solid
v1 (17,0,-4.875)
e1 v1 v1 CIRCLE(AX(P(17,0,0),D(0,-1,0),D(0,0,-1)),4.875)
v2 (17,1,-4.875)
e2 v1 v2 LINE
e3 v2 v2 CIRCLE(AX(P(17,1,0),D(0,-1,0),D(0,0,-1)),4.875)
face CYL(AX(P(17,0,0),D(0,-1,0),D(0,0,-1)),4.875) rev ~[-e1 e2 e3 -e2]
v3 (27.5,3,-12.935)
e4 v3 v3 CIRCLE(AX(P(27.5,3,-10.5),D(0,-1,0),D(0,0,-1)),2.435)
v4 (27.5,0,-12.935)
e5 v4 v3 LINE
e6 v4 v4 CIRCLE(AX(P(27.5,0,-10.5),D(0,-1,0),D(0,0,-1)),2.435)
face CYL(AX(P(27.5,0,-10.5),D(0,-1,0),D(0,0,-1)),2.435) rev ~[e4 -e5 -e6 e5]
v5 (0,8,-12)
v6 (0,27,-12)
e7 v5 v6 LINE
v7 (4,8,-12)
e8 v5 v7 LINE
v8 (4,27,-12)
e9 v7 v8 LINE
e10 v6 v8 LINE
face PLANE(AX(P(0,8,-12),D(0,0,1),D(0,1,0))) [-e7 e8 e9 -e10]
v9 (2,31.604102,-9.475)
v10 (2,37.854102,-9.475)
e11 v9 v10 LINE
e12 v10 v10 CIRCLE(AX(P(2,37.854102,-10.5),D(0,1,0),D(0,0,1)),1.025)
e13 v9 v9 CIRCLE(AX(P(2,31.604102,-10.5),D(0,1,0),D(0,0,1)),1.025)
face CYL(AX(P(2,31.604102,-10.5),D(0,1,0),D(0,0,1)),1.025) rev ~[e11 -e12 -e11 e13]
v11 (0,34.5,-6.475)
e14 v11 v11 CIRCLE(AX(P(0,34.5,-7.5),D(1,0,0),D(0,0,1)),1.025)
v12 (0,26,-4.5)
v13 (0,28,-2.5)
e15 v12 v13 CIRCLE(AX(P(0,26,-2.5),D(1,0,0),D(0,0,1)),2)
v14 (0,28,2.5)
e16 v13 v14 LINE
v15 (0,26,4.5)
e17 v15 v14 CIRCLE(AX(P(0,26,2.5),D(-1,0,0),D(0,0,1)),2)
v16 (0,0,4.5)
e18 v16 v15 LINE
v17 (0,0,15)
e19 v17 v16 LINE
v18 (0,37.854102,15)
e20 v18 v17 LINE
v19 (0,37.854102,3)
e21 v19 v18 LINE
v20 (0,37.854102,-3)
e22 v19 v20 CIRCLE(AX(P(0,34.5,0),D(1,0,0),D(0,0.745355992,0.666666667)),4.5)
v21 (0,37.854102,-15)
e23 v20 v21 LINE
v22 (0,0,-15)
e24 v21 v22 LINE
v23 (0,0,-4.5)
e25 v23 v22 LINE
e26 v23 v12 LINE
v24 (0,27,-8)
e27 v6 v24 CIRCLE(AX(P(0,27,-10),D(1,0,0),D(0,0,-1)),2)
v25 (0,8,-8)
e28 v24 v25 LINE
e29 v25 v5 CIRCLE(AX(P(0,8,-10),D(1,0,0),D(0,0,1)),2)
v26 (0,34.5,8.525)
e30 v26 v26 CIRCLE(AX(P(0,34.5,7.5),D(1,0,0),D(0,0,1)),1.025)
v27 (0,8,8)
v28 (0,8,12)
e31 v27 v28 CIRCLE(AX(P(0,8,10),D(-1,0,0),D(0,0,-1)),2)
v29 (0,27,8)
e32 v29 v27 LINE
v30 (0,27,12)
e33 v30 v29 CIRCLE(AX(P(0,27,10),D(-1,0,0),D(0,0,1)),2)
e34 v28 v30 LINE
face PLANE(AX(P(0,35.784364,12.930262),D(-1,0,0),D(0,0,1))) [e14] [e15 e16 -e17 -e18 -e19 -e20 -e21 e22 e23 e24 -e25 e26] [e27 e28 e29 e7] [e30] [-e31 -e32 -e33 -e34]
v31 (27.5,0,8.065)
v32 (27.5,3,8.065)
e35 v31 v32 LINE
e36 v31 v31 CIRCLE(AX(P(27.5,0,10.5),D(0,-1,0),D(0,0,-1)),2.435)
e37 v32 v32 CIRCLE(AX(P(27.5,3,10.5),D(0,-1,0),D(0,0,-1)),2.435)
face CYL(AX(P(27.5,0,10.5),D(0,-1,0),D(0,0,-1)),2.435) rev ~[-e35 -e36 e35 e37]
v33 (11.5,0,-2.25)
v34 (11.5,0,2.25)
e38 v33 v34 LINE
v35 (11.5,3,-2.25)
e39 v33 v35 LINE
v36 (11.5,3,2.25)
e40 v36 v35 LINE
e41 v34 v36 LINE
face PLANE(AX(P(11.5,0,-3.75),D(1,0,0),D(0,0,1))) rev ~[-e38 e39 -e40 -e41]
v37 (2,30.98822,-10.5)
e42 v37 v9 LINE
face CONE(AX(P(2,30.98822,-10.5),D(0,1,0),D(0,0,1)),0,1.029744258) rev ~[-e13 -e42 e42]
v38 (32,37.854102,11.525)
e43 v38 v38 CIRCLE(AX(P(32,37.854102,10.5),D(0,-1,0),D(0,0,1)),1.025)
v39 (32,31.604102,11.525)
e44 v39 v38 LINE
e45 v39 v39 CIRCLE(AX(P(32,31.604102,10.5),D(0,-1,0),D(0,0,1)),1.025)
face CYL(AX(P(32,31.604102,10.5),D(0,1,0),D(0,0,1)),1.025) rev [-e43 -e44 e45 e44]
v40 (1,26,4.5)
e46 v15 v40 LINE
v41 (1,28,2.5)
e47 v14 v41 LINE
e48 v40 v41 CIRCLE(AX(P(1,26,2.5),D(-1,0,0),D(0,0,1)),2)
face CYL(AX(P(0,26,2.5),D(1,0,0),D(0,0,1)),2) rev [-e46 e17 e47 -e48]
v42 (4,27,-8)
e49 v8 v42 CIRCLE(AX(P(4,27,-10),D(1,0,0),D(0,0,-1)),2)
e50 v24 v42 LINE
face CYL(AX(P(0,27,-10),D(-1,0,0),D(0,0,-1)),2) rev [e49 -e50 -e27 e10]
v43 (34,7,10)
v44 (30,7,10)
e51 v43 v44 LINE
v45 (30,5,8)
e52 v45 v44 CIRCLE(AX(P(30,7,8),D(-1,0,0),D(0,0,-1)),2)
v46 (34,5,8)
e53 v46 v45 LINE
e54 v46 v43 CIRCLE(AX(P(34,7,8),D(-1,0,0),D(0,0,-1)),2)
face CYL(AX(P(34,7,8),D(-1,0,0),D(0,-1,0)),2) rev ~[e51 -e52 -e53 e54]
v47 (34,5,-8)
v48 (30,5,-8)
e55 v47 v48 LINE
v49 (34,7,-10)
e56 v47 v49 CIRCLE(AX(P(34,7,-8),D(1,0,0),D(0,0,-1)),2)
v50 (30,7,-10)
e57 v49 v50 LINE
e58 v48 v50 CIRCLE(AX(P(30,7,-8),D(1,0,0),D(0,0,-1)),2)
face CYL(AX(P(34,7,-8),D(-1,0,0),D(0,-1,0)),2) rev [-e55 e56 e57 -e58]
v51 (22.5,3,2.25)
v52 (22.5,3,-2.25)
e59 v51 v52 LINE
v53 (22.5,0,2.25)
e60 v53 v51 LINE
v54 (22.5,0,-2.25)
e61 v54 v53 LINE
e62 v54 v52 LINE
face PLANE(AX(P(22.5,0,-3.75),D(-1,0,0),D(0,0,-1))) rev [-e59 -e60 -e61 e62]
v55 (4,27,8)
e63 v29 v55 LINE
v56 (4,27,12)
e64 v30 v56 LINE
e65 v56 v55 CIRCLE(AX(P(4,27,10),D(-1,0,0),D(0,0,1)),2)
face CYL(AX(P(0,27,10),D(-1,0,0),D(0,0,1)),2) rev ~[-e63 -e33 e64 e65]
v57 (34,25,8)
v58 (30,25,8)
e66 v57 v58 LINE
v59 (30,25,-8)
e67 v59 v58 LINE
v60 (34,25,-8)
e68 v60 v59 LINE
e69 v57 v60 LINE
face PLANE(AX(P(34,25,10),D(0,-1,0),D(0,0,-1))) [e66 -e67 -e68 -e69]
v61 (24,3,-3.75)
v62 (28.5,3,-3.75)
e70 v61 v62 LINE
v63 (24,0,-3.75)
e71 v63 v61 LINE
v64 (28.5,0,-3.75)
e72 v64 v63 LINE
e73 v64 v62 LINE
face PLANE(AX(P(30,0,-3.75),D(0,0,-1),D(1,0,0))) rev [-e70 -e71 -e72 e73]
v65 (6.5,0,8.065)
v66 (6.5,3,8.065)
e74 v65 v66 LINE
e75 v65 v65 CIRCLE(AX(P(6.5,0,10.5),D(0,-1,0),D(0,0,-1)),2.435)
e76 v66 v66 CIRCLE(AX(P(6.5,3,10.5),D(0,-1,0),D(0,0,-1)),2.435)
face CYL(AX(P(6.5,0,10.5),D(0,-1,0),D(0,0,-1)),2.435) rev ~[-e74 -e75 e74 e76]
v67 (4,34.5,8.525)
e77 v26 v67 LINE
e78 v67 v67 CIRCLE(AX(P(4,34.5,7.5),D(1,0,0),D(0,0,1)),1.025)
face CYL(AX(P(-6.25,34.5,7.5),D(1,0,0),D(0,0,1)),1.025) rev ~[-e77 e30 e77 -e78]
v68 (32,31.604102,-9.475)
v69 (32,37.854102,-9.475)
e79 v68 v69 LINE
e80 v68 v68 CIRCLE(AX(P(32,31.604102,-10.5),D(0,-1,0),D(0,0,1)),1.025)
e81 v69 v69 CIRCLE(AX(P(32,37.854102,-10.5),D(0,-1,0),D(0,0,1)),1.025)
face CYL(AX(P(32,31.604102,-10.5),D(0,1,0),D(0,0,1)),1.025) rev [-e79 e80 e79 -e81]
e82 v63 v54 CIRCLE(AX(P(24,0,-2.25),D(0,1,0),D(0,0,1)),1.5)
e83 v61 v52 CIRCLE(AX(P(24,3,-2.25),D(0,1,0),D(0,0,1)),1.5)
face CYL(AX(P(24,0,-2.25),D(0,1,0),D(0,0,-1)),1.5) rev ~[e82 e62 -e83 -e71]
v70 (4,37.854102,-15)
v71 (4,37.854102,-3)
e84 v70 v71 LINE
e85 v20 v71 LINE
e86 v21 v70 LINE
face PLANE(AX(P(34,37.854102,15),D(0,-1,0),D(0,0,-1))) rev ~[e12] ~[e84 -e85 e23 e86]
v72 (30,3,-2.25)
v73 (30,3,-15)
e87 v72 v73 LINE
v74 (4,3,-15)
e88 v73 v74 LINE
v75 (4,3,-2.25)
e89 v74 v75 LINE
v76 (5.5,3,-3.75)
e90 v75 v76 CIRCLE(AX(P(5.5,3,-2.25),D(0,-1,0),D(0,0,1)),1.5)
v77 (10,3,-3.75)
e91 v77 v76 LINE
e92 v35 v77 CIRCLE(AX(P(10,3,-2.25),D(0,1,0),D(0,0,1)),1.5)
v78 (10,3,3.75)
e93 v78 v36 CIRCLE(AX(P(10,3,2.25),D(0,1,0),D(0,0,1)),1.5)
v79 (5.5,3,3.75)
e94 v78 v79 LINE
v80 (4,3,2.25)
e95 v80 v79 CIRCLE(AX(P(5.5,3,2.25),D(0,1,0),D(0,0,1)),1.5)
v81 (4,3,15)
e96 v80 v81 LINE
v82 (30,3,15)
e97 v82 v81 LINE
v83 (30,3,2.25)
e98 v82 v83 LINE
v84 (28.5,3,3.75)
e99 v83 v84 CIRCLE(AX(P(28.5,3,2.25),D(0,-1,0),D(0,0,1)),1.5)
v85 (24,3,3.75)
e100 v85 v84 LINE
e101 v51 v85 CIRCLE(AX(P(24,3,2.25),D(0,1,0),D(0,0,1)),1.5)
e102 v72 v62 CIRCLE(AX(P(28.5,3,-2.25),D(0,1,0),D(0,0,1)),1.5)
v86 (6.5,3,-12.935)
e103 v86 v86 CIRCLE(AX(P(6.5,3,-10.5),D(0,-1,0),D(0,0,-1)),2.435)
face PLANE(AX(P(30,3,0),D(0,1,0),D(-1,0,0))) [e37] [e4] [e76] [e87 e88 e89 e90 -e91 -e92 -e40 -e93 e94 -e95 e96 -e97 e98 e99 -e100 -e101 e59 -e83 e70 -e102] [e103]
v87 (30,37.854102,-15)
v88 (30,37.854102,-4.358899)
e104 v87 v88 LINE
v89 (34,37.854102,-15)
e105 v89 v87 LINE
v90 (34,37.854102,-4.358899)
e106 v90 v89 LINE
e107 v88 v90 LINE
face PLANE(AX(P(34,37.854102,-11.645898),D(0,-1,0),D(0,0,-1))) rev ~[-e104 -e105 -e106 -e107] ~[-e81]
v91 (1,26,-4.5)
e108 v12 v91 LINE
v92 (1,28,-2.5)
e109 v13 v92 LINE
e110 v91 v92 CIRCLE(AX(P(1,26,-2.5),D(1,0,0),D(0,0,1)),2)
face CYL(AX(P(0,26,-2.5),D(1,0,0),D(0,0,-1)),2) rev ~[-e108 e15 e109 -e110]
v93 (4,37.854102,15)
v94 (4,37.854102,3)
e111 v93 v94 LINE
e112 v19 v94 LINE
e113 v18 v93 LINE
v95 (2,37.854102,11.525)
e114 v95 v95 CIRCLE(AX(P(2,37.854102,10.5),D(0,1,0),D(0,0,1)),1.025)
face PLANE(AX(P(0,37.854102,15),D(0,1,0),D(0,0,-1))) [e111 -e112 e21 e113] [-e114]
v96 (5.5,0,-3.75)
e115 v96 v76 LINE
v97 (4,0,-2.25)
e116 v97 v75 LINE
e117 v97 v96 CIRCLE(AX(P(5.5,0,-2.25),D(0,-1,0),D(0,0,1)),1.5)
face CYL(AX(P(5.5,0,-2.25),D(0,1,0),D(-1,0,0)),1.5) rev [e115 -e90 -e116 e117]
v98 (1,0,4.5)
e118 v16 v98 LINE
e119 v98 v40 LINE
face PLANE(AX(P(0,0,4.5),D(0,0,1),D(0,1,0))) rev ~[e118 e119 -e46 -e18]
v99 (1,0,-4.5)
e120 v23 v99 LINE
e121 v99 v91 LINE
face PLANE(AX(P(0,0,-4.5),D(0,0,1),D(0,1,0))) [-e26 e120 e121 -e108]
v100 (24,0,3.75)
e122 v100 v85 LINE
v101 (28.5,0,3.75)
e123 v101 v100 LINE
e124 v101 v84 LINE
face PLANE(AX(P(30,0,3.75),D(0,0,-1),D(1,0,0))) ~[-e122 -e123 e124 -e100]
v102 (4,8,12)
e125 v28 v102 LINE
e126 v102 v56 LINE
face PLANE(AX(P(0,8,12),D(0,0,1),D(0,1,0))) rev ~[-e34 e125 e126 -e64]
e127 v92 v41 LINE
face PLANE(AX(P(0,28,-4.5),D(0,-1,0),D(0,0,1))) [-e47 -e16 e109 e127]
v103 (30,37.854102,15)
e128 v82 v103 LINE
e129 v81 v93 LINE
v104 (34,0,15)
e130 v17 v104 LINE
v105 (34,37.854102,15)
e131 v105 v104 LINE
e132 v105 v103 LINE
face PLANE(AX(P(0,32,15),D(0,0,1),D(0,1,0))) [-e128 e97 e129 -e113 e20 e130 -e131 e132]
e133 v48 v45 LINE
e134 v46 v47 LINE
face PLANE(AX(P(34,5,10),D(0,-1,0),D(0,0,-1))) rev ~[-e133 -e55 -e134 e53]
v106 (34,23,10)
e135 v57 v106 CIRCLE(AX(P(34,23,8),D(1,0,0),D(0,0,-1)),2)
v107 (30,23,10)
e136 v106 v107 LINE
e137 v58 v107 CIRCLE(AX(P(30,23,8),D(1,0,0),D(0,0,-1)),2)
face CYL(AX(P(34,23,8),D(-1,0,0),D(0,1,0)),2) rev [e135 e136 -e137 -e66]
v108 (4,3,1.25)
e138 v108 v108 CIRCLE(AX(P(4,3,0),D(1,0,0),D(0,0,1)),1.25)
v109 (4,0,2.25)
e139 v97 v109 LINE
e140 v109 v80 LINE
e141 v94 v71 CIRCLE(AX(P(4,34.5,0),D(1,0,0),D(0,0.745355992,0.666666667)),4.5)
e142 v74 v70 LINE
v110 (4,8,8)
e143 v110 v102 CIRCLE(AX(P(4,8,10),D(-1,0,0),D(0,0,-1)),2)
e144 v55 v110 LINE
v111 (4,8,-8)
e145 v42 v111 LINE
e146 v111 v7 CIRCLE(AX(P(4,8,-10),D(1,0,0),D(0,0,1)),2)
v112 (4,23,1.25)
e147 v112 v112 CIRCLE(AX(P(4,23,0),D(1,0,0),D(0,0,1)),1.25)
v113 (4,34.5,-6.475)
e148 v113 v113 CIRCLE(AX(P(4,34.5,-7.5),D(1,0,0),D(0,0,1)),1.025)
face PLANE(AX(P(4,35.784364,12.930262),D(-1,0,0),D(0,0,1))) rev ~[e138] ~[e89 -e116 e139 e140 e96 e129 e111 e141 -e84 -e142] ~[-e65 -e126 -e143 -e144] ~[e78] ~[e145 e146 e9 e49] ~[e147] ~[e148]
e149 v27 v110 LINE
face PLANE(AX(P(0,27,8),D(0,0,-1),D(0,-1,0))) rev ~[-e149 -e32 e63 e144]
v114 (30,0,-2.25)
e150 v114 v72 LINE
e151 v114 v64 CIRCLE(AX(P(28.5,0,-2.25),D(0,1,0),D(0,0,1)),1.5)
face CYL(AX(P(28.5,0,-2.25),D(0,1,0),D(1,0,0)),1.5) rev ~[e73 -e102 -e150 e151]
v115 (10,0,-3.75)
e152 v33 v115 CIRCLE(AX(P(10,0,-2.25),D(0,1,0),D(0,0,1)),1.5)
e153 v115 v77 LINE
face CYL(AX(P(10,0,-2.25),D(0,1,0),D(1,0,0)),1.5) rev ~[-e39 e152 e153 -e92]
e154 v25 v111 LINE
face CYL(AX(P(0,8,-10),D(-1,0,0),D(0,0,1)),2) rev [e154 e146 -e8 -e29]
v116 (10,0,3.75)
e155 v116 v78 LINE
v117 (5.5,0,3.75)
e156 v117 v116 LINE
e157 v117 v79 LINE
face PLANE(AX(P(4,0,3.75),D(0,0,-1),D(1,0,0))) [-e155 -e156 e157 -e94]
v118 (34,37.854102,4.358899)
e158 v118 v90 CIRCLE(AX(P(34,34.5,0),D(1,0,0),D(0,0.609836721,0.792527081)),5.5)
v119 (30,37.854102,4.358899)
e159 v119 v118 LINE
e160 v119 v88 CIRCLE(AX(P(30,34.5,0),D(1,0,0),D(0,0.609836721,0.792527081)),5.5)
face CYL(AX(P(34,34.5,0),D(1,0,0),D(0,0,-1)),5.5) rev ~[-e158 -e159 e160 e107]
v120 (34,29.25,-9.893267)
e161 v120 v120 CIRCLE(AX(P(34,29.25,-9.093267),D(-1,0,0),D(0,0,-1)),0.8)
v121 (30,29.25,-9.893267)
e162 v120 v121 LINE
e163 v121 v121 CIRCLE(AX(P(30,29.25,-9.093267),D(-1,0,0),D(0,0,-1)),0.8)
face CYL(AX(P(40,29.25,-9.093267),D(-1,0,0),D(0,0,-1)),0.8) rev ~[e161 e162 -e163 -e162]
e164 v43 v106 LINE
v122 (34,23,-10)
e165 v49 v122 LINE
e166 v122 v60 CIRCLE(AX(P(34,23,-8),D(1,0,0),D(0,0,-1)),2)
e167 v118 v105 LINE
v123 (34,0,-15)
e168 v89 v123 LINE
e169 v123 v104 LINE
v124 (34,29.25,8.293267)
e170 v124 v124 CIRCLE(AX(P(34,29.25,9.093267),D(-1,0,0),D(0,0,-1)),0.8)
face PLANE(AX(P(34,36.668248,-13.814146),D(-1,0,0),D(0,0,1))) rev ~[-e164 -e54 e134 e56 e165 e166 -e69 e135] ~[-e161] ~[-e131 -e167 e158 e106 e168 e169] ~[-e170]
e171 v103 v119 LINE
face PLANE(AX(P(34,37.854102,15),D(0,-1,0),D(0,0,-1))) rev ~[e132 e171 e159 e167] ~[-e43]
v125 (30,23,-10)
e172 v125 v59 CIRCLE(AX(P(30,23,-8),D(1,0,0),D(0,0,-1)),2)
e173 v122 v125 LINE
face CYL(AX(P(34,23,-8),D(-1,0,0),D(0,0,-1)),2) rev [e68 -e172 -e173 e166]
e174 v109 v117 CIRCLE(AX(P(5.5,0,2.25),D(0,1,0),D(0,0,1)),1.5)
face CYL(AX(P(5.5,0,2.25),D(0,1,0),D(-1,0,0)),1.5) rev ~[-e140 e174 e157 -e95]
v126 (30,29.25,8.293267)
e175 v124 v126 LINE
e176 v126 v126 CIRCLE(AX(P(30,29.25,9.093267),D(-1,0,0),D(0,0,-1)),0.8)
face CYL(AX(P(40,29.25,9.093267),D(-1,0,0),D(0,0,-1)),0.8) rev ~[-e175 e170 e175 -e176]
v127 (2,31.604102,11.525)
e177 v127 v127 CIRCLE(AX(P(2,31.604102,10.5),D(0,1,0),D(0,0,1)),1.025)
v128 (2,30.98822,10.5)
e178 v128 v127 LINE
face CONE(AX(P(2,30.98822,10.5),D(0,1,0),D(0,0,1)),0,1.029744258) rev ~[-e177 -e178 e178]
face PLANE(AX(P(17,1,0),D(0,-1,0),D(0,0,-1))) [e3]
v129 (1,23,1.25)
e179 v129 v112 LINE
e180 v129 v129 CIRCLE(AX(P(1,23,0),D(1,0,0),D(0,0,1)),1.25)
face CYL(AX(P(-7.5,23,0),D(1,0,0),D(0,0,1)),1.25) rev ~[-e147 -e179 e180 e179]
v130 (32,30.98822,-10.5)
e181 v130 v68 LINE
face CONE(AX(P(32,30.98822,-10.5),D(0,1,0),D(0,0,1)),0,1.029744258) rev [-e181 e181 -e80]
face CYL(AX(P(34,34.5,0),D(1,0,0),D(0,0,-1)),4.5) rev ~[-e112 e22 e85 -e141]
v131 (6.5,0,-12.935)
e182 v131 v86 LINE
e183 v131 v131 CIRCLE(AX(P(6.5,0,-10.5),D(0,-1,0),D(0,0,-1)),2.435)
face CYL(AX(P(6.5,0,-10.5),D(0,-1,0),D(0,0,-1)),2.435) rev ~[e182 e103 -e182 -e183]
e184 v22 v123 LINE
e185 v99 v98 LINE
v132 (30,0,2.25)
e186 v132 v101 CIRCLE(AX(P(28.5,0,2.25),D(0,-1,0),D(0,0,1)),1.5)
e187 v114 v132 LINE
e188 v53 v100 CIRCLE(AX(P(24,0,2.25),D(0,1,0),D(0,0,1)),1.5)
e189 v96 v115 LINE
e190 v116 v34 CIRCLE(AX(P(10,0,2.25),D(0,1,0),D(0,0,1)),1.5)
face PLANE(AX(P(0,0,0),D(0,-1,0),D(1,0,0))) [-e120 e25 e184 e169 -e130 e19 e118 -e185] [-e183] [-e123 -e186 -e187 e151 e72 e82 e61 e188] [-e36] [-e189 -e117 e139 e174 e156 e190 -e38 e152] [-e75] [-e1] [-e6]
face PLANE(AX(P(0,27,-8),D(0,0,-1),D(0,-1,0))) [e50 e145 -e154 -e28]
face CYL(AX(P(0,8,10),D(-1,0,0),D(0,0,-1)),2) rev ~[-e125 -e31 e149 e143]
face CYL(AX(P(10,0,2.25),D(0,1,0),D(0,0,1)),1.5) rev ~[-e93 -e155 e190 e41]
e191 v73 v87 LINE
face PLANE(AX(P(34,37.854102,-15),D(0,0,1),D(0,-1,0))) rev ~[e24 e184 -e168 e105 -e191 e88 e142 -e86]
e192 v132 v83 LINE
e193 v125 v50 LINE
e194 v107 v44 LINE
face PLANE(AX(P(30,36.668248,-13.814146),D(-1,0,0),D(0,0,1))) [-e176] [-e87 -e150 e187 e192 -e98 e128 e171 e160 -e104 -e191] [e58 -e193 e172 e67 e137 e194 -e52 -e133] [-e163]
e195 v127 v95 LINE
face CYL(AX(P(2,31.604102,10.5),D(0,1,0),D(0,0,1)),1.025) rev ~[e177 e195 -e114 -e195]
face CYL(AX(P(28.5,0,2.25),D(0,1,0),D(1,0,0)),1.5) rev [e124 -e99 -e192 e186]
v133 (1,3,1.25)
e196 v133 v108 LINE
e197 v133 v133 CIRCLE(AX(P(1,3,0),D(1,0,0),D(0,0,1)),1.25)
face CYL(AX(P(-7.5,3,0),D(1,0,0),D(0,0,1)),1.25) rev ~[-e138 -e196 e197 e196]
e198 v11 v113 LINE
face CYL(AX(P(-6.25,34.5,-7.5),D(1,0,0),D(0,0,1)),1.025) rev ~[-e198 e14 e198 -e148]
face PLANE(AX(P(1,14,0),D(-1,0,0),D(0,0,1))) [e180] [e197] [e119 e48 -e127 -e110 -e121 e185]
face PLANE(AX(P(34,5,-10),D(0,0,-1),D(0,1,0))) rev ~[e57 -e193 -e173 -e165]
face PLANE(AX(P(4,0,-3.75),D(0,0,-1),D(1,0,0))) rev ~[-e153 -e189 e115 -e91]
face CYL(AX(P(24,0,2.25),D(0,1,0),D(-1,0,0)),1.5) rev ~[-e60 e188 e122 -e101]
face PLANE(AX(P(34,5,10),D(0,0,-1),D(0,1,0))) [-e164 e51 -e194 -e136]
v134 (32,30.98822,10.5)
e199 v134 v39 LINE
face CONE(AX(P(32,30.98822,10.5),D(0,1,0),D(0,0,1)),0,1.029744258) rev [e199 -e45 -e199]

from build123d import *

# Parameters (mm, degrees)
EXTRUDE_1_DEPTH               = 15
CHAMFER_1_SIZE                = 10
SKETCH_2_R                    = 4.5
CUT_EXTRUDE_1_DEPTH           = 58.976288256
SKETCH_3_W                    = 20
SKETCH_3_H                    = 20
CUT_EXTRUDE_2_DEPTH           = 10
FILLET_1_R                    = 2
SKETCH_4_W                    = 9
SKETCH_4_H                    = 28
CUT_EXTRUDE_3_DEPTH           = 1
FILLET_2_R                    = 2
HOLE_WIZARD_M2_2_D            = 1.6
HOLE_WIZARD_M2_2_DEPTH        = 6
HOLE_WIZARD_M2_2_TIP          = 0.480688495
CUT_EXTRUDE_4_DEPTH           = 58.976288256
EXTRUDE_2_DEPTH               = 4
EXTRUDE_3_DEPTH               = 4
CUT_EXTRUDE_5_DEPTH           = 4
SKETCH_12_W                   = 7.5
SKETCH_12_H                   = 7.5
CUT_EXTRUDE_6_DEPTH           = 4
FILLET_3_R                    = 1.5
HOLE_WIZARD_M3_1_D            = 2.5
HOLE_WIZARD_M3_1_DEPTH        = 8.5
HOLE_WIZARD_M3_1_TIP          = 0.751075774
SKETCH_17_R                   = 4.875
CUT_EXTRUDE_8_DEPTH           = 1
FILLET_4_R                    = 1.5
HOLE_WIZARD_M2_5_1_AT_2_COUNT = 2
HOLE_WIZARD_M2_5_1_AT_2_PITCH = 21
HOLE_WIZARD_M2_5_2_D          = 2.05
HOLE_WIZARD_M2_5_2_DEPTH      = 6.25
HOLE_WIZARD_M2_5_2_TIP        = 0.615882135
SKETCH_24_R                   = 2.435
CUT_EXTRUDE_9_DEPTH           = 10
SKETCH_25_R                   = 5.5
CUT_EXTRUDE_10_DEPTH          = 10


with BuildPart() as part:
    # 草图1 → 凸台-拉伸1 (new, symmetric)
    with BuildSketch(Plane.XY):
        Polygon((0, 0), (34, 0), (34, 44.5), (30, 44.5), (30, 4), (30, 3), (4, 3), (4, 4), (4, 42), (0, 42), align=None)
    extrude(amount=EXTRUDE_1_DEPTH, both=True)

    # 倒角1
    chamfer_1_edges = [part.edges().sort_by_distance(p)[0] for p in [
        (32, 44.5, -15),
        (32, 44.5, 15),
        (2, 42, 15),
        (2, 42, -15),
    ]]
    chamfer(chamfer_1_edges, length=CHAMFER_1_SIZE)

    # 草图2 → 切除-拉伸1 (cut, through all)
    with BuildSketch(Plane(origin=(34, 0, 0), x_dir=(0, 0, -1), z_dir=(1, 0, 0))):
        with Locations((0, 34.5)):
            Circle(SKETCH_2_R)
    extrude(amount=-CUT_EXTRUDE_1_DEPTH, mode=Mode.SUBTRACT)

    # 草图3 → 切除-拉伸2 (cut)
    with BuildSketch(Plane(origin=(34, 0, 0), x_dir=(0, 0, -1), z_dir=(1, 0, 0))):
        with Locations((0, 15)):
            Rectangle(SKETCH_3_W, SKETCH_3_H)
    extrude(amount=-CUT_EXTRUDE_2_DEPTH, mode=Mode.SUBTRACT)

    # 圆角1
    fillet_1_edges = [part.edges().sort_by_distance(p)[0] for p in [
        (32, 25, -10),
        (32, 5, -10),
        (32, 5, 10),
        (32, 25, 10),
    ]]
    fillet(fillet_1_edges, radius=FILLET_1_R)

    # 草图4 → 切除-拉伸3 (cut)
    with BuildSketch(Plane.ZY):
        with Locations((0, 14)):
            Rectangle(SKETCH_4_W, SKETCH_4_H)
    extrude(amount=-CUT_EXTRUDE_3_DEPTH, mode=Mode.SUBTRACT)

    # 圆角2
    fillet_2_edges = [part.edges().sort_by_distance(p)[0] for p in [
        (0.5, 28, -4.5),
        (0.5, 28, 4.5),
    ]]
    fillet(fillet_2_edges, radius=FILLET_2_R)

    # M2 螺纹孔2
    with Locations(Plane(origin=(34, 29.25, 9.09326674), x_dir=(0, 0, 1), z_dir=(1, 0, 0))):
        with Locations((0, 0), (-18.18653348, 0)):
            Hole(HOLE_WIZARD_M2_2_D / 2, depth=HOLE_WIZARD_M2_2_DEPTH)
            with Locations((0, 0, -(HOLE_WIZARD_M2_2_DEPTH + HOLE_WIZARD_M2_2_TIP / 2))):  # 118° drill point
                Cone(0, HOLE_WIZARD_M2_2_D / 2, HOLE_WIZARD_M2_2_TIP, mode=Mode.SUBTRACT)

    # 草图5 → 切除-拉伸4 (cut, through all)
    with BuildSketch(Plane(origin=(34, 0, 0), x_dir=(0, 0, -1), z_dir=(1, 0, 0))):
        Polygon((-3, 37.854101966), (-15, 37.854101966), (-15, 44.5), (15, 44.5), (15, 37.854101966), align=None)
    extrude(amount=-CUT_EXTRUDE_4_DEPTH, mode=Mode.SUBTRACT)

    # 草图9 → 凸台-拉伸2 (add)
    with BuildSketch(Plane.ZY):
        Polygon((15, 32), (15, 37.854101966), (9.145898034, 37.854101966), align=None)
        Polygon((-15, 37.854101966), (-9.145898034, 37.854101966), (-15, 32), align=None)
    extrude(amount=-EXTRUDE_2_DEPTH)

    # 草图10 → 凸台-拉伸3 (add)
    with BuildSketch(Plane(origin=(34, 0, 0), x_dir=(0, 0, -1), z_dir=(1, 0, 0))):
        Polygon((11.645898034, 37.854101966), (15, 37.854101966), (15, 34.5), align=None)
        Polygon((-15, 34.5), (-15, 37.854101966), (-11.645898034, 37.854101966), align=None)
    extrude(amount=-EXTRUDE_3_DEPTH)

    # 草图11 → 切除-拉伸5 (cut)
    with BuildSketch(Plane.ZY):
        with BuildLine():
            Line((-8, 27), (-8, 8))
            ThreePointArc((-8, 8), (-10, 6), (-12, 8))
            Line((-12, 8), (-12, 27))
            ThreePointArc((-12, 27), (-10, 29), (-8, 27))
        make_face()
        with BuildLine():
            Line((8, 27), (8, 8))
            ThreePointArc((8, 8), (10, 6), (12, 8))
            Line((12, 8), (12, 27))
            ThreePointArc((12, 27), (10, 29), (8, 27))
        make_face()
    extrude(amount=-CUT_EXTRUDE_5_DEPTH, mode=Mode.SUBTRACT)

    # 草图12 → 切除-拉伸6 (cut)
    with BuildSketch(Plane.XZ):
        with Locations((7.75, 0)):
            Rectangle(SKETCH_12_W, SKETCH_12_H)
    cut_extrude_6 = extrude(amount=-CUT_EXTRUDE_6_DEPTH, mode=Mode.SUBTRACT)

    # 圆角3
    fillet_3_edges = [part.edges().sort_by_distance(p)[0] for p in [
        (11.5, 1.5, 3.75),
        (4, 1.5, -3.75),
        (11.5, 1.5, -3.75),
        (4, 1.5, 3.75),
    ]]
    fillet(fillet_3_edges, radius=FILLET_3_R)

    # M3 螺纹孔1
    with Locations(Plane(origin=(1, 23, 0), x_dir=(0, 0, -1), z_dir=(-1, 0, 0))):
        with Locations((0, 0), (0, 20)):
            Hole(HOLE_WIZARD_M3_1_D / 2, depth=HOLE_WIZARD_M3_1_DEPTH)
            with Locations((0, 0, -(HOLE_WIZARD_M3_1_DEPTH + HOLE_WIZARD_M3_1_TIP / 2))):  # 118° drill point
                Cone(0, HOLE_WIZARD_M3_1_D / 2, HOLE_WIZARD_M3_1_TIP, mode=Mode.SUBTRACT)

    # 草图17 → 切除-拉伸8 (cut)
    with BuildSketch(Plane.XZ):
        with Locations(Location((17, 0, 0), (0, 0, 270))):
            Circle(SKETCH_17_R)
    extrude(amount=-CUT_EXTRUDE_8_DEPTH, mode=Mode.SUBTRACT)

    # 镜向2: 切除-拉伸6 across plane
    add(cut_extrude_6.mirror(Plane.ZY.offset(-17)), mode=Mode.SUBTRACT)

    # 圆角4
    fillet_4_edges = [part.edges().sort_by_distance(p)[0] for p in [
        (22.5, 1.5, -3.75),
        (22.5, 1.5, 3.75),
        (30, 1.5, 3.75),
        (30, 1.5, -3.75),
    ]]
    fillet(fillet_4_edges, radius=FILLET_4_R)

    # 草图20 → M2.5 螺纹孔1 (revolve, cut)
    with BuildSketch(Plane(origin=(32, 37.854101966, 10.5), x_dir=(0, 0, 1), z_dir=(1, 0, 0))):
        Polygon((0, 0), (0, 6.865882135), (1.025, 6.25), (1.025, 0), align=None)
    hole_wizard_m2_5_1 = revolve(axis=Axis((32, 44.204101966, 10.5), (0, -1, 0)), mode=Mode.SUBTRACT)

    # M2.5 螺纹孔1 at 2: M2.5 螺纹孔1 ×2
    with Locations(*[(0, 0, -i * HOLE_WIZARD_M2_5_1_AT_2_PITCH) for i in range(1, HOLE_WIZARD_M2_5_1_AT_2_COUNT)]):
        add(hole_wizard_m2_5_1, mode=Mode.SUBTRACT)

    # 镜向3: M2.5 螺纹孔1 across plane
    add(hole_wizard_m2_5_1.mirror(Plane.ZY.offset(-17)), mode=Mode.SUBTRACT)

    # 镜向3 copy 1 sketch → 镜向3 copy 1 (revolve, cut)
    with BuildSketch(Plane(origin=(2, 37.854101966, -10.5), x_dir=(0, 0, 1), z_dir=(-1, 0, 0))):
        Polygon((0, 0), (0, -6.865882135), (1.025, -6.25), (1.025, 0), align=None)
    revolve(axis=Axis((2, 44.204101966, -10.5), (0, 1, 0)), mode=Mode.SUBTRACT)

    # M2.5 螺纹孔2
    with Locations(Plane(origin=(0, 34.5, 7.5), x_dir=(0, 0, -1), z_dir=(-1, 0, 0))):
        with Locations((0, 0), (15, 0)):
            Hole(HOLE_WIZARD_M2_5_2_D / 2, depth=HOLE_WIZARD_M2_5_2_DEPTH)
            with Locations((0, 0, -(HOLE_WIZARD_M2_5_2_DEPTH + HOLE_WIZARD_M2_5_2_TIP / 2))):  # 118° drill point
                Cone(0, HOLE_WIZARD_M2_5_2_D / 2, HOLE_WIZARD_M2_5_2_TIP, mode=Mode.SUBTRACT)

    # 草图24 → 切除-拉伸9 (cut)
    with BuildSketch(Plane.XZ):
        with Locations(Location((6.5, 10.5, 0), (0, 0, 270))):
            Circle(SKETCH_24_R)
        with Locations(Location((27.5, 10.5, 0), (0, 0, 270))):
            Circle(SKETCH_24_R)
        with Locations(Location((6.5, -10.5, 0), (0, 0, 270))):
            Circle(SKETCH_24_R)
        with Locations(Location((27.5, -10.5, 0), (0, 0, 270))):
            Circle(SKETCH_24_R)
    extrude(amount=-CUT_EXTRUDE_9_DEPTH, mode=Mode.SUBTRACT)

    # 草图25 → 切除-拉伸10 (cut)
    with BuildSketch(Plane(origin=(34, 0, 0), x_dir=(0, 0, -1), z_dir=(1, 0, 0))):
        with Locations((0, 34.5)):
            Circle(SKETCH_25_R)
    extrude(amount=-CUT_EXTRUDE_10_DEPTH, mode=Mode.SUBTRACT)


solid = part.part
